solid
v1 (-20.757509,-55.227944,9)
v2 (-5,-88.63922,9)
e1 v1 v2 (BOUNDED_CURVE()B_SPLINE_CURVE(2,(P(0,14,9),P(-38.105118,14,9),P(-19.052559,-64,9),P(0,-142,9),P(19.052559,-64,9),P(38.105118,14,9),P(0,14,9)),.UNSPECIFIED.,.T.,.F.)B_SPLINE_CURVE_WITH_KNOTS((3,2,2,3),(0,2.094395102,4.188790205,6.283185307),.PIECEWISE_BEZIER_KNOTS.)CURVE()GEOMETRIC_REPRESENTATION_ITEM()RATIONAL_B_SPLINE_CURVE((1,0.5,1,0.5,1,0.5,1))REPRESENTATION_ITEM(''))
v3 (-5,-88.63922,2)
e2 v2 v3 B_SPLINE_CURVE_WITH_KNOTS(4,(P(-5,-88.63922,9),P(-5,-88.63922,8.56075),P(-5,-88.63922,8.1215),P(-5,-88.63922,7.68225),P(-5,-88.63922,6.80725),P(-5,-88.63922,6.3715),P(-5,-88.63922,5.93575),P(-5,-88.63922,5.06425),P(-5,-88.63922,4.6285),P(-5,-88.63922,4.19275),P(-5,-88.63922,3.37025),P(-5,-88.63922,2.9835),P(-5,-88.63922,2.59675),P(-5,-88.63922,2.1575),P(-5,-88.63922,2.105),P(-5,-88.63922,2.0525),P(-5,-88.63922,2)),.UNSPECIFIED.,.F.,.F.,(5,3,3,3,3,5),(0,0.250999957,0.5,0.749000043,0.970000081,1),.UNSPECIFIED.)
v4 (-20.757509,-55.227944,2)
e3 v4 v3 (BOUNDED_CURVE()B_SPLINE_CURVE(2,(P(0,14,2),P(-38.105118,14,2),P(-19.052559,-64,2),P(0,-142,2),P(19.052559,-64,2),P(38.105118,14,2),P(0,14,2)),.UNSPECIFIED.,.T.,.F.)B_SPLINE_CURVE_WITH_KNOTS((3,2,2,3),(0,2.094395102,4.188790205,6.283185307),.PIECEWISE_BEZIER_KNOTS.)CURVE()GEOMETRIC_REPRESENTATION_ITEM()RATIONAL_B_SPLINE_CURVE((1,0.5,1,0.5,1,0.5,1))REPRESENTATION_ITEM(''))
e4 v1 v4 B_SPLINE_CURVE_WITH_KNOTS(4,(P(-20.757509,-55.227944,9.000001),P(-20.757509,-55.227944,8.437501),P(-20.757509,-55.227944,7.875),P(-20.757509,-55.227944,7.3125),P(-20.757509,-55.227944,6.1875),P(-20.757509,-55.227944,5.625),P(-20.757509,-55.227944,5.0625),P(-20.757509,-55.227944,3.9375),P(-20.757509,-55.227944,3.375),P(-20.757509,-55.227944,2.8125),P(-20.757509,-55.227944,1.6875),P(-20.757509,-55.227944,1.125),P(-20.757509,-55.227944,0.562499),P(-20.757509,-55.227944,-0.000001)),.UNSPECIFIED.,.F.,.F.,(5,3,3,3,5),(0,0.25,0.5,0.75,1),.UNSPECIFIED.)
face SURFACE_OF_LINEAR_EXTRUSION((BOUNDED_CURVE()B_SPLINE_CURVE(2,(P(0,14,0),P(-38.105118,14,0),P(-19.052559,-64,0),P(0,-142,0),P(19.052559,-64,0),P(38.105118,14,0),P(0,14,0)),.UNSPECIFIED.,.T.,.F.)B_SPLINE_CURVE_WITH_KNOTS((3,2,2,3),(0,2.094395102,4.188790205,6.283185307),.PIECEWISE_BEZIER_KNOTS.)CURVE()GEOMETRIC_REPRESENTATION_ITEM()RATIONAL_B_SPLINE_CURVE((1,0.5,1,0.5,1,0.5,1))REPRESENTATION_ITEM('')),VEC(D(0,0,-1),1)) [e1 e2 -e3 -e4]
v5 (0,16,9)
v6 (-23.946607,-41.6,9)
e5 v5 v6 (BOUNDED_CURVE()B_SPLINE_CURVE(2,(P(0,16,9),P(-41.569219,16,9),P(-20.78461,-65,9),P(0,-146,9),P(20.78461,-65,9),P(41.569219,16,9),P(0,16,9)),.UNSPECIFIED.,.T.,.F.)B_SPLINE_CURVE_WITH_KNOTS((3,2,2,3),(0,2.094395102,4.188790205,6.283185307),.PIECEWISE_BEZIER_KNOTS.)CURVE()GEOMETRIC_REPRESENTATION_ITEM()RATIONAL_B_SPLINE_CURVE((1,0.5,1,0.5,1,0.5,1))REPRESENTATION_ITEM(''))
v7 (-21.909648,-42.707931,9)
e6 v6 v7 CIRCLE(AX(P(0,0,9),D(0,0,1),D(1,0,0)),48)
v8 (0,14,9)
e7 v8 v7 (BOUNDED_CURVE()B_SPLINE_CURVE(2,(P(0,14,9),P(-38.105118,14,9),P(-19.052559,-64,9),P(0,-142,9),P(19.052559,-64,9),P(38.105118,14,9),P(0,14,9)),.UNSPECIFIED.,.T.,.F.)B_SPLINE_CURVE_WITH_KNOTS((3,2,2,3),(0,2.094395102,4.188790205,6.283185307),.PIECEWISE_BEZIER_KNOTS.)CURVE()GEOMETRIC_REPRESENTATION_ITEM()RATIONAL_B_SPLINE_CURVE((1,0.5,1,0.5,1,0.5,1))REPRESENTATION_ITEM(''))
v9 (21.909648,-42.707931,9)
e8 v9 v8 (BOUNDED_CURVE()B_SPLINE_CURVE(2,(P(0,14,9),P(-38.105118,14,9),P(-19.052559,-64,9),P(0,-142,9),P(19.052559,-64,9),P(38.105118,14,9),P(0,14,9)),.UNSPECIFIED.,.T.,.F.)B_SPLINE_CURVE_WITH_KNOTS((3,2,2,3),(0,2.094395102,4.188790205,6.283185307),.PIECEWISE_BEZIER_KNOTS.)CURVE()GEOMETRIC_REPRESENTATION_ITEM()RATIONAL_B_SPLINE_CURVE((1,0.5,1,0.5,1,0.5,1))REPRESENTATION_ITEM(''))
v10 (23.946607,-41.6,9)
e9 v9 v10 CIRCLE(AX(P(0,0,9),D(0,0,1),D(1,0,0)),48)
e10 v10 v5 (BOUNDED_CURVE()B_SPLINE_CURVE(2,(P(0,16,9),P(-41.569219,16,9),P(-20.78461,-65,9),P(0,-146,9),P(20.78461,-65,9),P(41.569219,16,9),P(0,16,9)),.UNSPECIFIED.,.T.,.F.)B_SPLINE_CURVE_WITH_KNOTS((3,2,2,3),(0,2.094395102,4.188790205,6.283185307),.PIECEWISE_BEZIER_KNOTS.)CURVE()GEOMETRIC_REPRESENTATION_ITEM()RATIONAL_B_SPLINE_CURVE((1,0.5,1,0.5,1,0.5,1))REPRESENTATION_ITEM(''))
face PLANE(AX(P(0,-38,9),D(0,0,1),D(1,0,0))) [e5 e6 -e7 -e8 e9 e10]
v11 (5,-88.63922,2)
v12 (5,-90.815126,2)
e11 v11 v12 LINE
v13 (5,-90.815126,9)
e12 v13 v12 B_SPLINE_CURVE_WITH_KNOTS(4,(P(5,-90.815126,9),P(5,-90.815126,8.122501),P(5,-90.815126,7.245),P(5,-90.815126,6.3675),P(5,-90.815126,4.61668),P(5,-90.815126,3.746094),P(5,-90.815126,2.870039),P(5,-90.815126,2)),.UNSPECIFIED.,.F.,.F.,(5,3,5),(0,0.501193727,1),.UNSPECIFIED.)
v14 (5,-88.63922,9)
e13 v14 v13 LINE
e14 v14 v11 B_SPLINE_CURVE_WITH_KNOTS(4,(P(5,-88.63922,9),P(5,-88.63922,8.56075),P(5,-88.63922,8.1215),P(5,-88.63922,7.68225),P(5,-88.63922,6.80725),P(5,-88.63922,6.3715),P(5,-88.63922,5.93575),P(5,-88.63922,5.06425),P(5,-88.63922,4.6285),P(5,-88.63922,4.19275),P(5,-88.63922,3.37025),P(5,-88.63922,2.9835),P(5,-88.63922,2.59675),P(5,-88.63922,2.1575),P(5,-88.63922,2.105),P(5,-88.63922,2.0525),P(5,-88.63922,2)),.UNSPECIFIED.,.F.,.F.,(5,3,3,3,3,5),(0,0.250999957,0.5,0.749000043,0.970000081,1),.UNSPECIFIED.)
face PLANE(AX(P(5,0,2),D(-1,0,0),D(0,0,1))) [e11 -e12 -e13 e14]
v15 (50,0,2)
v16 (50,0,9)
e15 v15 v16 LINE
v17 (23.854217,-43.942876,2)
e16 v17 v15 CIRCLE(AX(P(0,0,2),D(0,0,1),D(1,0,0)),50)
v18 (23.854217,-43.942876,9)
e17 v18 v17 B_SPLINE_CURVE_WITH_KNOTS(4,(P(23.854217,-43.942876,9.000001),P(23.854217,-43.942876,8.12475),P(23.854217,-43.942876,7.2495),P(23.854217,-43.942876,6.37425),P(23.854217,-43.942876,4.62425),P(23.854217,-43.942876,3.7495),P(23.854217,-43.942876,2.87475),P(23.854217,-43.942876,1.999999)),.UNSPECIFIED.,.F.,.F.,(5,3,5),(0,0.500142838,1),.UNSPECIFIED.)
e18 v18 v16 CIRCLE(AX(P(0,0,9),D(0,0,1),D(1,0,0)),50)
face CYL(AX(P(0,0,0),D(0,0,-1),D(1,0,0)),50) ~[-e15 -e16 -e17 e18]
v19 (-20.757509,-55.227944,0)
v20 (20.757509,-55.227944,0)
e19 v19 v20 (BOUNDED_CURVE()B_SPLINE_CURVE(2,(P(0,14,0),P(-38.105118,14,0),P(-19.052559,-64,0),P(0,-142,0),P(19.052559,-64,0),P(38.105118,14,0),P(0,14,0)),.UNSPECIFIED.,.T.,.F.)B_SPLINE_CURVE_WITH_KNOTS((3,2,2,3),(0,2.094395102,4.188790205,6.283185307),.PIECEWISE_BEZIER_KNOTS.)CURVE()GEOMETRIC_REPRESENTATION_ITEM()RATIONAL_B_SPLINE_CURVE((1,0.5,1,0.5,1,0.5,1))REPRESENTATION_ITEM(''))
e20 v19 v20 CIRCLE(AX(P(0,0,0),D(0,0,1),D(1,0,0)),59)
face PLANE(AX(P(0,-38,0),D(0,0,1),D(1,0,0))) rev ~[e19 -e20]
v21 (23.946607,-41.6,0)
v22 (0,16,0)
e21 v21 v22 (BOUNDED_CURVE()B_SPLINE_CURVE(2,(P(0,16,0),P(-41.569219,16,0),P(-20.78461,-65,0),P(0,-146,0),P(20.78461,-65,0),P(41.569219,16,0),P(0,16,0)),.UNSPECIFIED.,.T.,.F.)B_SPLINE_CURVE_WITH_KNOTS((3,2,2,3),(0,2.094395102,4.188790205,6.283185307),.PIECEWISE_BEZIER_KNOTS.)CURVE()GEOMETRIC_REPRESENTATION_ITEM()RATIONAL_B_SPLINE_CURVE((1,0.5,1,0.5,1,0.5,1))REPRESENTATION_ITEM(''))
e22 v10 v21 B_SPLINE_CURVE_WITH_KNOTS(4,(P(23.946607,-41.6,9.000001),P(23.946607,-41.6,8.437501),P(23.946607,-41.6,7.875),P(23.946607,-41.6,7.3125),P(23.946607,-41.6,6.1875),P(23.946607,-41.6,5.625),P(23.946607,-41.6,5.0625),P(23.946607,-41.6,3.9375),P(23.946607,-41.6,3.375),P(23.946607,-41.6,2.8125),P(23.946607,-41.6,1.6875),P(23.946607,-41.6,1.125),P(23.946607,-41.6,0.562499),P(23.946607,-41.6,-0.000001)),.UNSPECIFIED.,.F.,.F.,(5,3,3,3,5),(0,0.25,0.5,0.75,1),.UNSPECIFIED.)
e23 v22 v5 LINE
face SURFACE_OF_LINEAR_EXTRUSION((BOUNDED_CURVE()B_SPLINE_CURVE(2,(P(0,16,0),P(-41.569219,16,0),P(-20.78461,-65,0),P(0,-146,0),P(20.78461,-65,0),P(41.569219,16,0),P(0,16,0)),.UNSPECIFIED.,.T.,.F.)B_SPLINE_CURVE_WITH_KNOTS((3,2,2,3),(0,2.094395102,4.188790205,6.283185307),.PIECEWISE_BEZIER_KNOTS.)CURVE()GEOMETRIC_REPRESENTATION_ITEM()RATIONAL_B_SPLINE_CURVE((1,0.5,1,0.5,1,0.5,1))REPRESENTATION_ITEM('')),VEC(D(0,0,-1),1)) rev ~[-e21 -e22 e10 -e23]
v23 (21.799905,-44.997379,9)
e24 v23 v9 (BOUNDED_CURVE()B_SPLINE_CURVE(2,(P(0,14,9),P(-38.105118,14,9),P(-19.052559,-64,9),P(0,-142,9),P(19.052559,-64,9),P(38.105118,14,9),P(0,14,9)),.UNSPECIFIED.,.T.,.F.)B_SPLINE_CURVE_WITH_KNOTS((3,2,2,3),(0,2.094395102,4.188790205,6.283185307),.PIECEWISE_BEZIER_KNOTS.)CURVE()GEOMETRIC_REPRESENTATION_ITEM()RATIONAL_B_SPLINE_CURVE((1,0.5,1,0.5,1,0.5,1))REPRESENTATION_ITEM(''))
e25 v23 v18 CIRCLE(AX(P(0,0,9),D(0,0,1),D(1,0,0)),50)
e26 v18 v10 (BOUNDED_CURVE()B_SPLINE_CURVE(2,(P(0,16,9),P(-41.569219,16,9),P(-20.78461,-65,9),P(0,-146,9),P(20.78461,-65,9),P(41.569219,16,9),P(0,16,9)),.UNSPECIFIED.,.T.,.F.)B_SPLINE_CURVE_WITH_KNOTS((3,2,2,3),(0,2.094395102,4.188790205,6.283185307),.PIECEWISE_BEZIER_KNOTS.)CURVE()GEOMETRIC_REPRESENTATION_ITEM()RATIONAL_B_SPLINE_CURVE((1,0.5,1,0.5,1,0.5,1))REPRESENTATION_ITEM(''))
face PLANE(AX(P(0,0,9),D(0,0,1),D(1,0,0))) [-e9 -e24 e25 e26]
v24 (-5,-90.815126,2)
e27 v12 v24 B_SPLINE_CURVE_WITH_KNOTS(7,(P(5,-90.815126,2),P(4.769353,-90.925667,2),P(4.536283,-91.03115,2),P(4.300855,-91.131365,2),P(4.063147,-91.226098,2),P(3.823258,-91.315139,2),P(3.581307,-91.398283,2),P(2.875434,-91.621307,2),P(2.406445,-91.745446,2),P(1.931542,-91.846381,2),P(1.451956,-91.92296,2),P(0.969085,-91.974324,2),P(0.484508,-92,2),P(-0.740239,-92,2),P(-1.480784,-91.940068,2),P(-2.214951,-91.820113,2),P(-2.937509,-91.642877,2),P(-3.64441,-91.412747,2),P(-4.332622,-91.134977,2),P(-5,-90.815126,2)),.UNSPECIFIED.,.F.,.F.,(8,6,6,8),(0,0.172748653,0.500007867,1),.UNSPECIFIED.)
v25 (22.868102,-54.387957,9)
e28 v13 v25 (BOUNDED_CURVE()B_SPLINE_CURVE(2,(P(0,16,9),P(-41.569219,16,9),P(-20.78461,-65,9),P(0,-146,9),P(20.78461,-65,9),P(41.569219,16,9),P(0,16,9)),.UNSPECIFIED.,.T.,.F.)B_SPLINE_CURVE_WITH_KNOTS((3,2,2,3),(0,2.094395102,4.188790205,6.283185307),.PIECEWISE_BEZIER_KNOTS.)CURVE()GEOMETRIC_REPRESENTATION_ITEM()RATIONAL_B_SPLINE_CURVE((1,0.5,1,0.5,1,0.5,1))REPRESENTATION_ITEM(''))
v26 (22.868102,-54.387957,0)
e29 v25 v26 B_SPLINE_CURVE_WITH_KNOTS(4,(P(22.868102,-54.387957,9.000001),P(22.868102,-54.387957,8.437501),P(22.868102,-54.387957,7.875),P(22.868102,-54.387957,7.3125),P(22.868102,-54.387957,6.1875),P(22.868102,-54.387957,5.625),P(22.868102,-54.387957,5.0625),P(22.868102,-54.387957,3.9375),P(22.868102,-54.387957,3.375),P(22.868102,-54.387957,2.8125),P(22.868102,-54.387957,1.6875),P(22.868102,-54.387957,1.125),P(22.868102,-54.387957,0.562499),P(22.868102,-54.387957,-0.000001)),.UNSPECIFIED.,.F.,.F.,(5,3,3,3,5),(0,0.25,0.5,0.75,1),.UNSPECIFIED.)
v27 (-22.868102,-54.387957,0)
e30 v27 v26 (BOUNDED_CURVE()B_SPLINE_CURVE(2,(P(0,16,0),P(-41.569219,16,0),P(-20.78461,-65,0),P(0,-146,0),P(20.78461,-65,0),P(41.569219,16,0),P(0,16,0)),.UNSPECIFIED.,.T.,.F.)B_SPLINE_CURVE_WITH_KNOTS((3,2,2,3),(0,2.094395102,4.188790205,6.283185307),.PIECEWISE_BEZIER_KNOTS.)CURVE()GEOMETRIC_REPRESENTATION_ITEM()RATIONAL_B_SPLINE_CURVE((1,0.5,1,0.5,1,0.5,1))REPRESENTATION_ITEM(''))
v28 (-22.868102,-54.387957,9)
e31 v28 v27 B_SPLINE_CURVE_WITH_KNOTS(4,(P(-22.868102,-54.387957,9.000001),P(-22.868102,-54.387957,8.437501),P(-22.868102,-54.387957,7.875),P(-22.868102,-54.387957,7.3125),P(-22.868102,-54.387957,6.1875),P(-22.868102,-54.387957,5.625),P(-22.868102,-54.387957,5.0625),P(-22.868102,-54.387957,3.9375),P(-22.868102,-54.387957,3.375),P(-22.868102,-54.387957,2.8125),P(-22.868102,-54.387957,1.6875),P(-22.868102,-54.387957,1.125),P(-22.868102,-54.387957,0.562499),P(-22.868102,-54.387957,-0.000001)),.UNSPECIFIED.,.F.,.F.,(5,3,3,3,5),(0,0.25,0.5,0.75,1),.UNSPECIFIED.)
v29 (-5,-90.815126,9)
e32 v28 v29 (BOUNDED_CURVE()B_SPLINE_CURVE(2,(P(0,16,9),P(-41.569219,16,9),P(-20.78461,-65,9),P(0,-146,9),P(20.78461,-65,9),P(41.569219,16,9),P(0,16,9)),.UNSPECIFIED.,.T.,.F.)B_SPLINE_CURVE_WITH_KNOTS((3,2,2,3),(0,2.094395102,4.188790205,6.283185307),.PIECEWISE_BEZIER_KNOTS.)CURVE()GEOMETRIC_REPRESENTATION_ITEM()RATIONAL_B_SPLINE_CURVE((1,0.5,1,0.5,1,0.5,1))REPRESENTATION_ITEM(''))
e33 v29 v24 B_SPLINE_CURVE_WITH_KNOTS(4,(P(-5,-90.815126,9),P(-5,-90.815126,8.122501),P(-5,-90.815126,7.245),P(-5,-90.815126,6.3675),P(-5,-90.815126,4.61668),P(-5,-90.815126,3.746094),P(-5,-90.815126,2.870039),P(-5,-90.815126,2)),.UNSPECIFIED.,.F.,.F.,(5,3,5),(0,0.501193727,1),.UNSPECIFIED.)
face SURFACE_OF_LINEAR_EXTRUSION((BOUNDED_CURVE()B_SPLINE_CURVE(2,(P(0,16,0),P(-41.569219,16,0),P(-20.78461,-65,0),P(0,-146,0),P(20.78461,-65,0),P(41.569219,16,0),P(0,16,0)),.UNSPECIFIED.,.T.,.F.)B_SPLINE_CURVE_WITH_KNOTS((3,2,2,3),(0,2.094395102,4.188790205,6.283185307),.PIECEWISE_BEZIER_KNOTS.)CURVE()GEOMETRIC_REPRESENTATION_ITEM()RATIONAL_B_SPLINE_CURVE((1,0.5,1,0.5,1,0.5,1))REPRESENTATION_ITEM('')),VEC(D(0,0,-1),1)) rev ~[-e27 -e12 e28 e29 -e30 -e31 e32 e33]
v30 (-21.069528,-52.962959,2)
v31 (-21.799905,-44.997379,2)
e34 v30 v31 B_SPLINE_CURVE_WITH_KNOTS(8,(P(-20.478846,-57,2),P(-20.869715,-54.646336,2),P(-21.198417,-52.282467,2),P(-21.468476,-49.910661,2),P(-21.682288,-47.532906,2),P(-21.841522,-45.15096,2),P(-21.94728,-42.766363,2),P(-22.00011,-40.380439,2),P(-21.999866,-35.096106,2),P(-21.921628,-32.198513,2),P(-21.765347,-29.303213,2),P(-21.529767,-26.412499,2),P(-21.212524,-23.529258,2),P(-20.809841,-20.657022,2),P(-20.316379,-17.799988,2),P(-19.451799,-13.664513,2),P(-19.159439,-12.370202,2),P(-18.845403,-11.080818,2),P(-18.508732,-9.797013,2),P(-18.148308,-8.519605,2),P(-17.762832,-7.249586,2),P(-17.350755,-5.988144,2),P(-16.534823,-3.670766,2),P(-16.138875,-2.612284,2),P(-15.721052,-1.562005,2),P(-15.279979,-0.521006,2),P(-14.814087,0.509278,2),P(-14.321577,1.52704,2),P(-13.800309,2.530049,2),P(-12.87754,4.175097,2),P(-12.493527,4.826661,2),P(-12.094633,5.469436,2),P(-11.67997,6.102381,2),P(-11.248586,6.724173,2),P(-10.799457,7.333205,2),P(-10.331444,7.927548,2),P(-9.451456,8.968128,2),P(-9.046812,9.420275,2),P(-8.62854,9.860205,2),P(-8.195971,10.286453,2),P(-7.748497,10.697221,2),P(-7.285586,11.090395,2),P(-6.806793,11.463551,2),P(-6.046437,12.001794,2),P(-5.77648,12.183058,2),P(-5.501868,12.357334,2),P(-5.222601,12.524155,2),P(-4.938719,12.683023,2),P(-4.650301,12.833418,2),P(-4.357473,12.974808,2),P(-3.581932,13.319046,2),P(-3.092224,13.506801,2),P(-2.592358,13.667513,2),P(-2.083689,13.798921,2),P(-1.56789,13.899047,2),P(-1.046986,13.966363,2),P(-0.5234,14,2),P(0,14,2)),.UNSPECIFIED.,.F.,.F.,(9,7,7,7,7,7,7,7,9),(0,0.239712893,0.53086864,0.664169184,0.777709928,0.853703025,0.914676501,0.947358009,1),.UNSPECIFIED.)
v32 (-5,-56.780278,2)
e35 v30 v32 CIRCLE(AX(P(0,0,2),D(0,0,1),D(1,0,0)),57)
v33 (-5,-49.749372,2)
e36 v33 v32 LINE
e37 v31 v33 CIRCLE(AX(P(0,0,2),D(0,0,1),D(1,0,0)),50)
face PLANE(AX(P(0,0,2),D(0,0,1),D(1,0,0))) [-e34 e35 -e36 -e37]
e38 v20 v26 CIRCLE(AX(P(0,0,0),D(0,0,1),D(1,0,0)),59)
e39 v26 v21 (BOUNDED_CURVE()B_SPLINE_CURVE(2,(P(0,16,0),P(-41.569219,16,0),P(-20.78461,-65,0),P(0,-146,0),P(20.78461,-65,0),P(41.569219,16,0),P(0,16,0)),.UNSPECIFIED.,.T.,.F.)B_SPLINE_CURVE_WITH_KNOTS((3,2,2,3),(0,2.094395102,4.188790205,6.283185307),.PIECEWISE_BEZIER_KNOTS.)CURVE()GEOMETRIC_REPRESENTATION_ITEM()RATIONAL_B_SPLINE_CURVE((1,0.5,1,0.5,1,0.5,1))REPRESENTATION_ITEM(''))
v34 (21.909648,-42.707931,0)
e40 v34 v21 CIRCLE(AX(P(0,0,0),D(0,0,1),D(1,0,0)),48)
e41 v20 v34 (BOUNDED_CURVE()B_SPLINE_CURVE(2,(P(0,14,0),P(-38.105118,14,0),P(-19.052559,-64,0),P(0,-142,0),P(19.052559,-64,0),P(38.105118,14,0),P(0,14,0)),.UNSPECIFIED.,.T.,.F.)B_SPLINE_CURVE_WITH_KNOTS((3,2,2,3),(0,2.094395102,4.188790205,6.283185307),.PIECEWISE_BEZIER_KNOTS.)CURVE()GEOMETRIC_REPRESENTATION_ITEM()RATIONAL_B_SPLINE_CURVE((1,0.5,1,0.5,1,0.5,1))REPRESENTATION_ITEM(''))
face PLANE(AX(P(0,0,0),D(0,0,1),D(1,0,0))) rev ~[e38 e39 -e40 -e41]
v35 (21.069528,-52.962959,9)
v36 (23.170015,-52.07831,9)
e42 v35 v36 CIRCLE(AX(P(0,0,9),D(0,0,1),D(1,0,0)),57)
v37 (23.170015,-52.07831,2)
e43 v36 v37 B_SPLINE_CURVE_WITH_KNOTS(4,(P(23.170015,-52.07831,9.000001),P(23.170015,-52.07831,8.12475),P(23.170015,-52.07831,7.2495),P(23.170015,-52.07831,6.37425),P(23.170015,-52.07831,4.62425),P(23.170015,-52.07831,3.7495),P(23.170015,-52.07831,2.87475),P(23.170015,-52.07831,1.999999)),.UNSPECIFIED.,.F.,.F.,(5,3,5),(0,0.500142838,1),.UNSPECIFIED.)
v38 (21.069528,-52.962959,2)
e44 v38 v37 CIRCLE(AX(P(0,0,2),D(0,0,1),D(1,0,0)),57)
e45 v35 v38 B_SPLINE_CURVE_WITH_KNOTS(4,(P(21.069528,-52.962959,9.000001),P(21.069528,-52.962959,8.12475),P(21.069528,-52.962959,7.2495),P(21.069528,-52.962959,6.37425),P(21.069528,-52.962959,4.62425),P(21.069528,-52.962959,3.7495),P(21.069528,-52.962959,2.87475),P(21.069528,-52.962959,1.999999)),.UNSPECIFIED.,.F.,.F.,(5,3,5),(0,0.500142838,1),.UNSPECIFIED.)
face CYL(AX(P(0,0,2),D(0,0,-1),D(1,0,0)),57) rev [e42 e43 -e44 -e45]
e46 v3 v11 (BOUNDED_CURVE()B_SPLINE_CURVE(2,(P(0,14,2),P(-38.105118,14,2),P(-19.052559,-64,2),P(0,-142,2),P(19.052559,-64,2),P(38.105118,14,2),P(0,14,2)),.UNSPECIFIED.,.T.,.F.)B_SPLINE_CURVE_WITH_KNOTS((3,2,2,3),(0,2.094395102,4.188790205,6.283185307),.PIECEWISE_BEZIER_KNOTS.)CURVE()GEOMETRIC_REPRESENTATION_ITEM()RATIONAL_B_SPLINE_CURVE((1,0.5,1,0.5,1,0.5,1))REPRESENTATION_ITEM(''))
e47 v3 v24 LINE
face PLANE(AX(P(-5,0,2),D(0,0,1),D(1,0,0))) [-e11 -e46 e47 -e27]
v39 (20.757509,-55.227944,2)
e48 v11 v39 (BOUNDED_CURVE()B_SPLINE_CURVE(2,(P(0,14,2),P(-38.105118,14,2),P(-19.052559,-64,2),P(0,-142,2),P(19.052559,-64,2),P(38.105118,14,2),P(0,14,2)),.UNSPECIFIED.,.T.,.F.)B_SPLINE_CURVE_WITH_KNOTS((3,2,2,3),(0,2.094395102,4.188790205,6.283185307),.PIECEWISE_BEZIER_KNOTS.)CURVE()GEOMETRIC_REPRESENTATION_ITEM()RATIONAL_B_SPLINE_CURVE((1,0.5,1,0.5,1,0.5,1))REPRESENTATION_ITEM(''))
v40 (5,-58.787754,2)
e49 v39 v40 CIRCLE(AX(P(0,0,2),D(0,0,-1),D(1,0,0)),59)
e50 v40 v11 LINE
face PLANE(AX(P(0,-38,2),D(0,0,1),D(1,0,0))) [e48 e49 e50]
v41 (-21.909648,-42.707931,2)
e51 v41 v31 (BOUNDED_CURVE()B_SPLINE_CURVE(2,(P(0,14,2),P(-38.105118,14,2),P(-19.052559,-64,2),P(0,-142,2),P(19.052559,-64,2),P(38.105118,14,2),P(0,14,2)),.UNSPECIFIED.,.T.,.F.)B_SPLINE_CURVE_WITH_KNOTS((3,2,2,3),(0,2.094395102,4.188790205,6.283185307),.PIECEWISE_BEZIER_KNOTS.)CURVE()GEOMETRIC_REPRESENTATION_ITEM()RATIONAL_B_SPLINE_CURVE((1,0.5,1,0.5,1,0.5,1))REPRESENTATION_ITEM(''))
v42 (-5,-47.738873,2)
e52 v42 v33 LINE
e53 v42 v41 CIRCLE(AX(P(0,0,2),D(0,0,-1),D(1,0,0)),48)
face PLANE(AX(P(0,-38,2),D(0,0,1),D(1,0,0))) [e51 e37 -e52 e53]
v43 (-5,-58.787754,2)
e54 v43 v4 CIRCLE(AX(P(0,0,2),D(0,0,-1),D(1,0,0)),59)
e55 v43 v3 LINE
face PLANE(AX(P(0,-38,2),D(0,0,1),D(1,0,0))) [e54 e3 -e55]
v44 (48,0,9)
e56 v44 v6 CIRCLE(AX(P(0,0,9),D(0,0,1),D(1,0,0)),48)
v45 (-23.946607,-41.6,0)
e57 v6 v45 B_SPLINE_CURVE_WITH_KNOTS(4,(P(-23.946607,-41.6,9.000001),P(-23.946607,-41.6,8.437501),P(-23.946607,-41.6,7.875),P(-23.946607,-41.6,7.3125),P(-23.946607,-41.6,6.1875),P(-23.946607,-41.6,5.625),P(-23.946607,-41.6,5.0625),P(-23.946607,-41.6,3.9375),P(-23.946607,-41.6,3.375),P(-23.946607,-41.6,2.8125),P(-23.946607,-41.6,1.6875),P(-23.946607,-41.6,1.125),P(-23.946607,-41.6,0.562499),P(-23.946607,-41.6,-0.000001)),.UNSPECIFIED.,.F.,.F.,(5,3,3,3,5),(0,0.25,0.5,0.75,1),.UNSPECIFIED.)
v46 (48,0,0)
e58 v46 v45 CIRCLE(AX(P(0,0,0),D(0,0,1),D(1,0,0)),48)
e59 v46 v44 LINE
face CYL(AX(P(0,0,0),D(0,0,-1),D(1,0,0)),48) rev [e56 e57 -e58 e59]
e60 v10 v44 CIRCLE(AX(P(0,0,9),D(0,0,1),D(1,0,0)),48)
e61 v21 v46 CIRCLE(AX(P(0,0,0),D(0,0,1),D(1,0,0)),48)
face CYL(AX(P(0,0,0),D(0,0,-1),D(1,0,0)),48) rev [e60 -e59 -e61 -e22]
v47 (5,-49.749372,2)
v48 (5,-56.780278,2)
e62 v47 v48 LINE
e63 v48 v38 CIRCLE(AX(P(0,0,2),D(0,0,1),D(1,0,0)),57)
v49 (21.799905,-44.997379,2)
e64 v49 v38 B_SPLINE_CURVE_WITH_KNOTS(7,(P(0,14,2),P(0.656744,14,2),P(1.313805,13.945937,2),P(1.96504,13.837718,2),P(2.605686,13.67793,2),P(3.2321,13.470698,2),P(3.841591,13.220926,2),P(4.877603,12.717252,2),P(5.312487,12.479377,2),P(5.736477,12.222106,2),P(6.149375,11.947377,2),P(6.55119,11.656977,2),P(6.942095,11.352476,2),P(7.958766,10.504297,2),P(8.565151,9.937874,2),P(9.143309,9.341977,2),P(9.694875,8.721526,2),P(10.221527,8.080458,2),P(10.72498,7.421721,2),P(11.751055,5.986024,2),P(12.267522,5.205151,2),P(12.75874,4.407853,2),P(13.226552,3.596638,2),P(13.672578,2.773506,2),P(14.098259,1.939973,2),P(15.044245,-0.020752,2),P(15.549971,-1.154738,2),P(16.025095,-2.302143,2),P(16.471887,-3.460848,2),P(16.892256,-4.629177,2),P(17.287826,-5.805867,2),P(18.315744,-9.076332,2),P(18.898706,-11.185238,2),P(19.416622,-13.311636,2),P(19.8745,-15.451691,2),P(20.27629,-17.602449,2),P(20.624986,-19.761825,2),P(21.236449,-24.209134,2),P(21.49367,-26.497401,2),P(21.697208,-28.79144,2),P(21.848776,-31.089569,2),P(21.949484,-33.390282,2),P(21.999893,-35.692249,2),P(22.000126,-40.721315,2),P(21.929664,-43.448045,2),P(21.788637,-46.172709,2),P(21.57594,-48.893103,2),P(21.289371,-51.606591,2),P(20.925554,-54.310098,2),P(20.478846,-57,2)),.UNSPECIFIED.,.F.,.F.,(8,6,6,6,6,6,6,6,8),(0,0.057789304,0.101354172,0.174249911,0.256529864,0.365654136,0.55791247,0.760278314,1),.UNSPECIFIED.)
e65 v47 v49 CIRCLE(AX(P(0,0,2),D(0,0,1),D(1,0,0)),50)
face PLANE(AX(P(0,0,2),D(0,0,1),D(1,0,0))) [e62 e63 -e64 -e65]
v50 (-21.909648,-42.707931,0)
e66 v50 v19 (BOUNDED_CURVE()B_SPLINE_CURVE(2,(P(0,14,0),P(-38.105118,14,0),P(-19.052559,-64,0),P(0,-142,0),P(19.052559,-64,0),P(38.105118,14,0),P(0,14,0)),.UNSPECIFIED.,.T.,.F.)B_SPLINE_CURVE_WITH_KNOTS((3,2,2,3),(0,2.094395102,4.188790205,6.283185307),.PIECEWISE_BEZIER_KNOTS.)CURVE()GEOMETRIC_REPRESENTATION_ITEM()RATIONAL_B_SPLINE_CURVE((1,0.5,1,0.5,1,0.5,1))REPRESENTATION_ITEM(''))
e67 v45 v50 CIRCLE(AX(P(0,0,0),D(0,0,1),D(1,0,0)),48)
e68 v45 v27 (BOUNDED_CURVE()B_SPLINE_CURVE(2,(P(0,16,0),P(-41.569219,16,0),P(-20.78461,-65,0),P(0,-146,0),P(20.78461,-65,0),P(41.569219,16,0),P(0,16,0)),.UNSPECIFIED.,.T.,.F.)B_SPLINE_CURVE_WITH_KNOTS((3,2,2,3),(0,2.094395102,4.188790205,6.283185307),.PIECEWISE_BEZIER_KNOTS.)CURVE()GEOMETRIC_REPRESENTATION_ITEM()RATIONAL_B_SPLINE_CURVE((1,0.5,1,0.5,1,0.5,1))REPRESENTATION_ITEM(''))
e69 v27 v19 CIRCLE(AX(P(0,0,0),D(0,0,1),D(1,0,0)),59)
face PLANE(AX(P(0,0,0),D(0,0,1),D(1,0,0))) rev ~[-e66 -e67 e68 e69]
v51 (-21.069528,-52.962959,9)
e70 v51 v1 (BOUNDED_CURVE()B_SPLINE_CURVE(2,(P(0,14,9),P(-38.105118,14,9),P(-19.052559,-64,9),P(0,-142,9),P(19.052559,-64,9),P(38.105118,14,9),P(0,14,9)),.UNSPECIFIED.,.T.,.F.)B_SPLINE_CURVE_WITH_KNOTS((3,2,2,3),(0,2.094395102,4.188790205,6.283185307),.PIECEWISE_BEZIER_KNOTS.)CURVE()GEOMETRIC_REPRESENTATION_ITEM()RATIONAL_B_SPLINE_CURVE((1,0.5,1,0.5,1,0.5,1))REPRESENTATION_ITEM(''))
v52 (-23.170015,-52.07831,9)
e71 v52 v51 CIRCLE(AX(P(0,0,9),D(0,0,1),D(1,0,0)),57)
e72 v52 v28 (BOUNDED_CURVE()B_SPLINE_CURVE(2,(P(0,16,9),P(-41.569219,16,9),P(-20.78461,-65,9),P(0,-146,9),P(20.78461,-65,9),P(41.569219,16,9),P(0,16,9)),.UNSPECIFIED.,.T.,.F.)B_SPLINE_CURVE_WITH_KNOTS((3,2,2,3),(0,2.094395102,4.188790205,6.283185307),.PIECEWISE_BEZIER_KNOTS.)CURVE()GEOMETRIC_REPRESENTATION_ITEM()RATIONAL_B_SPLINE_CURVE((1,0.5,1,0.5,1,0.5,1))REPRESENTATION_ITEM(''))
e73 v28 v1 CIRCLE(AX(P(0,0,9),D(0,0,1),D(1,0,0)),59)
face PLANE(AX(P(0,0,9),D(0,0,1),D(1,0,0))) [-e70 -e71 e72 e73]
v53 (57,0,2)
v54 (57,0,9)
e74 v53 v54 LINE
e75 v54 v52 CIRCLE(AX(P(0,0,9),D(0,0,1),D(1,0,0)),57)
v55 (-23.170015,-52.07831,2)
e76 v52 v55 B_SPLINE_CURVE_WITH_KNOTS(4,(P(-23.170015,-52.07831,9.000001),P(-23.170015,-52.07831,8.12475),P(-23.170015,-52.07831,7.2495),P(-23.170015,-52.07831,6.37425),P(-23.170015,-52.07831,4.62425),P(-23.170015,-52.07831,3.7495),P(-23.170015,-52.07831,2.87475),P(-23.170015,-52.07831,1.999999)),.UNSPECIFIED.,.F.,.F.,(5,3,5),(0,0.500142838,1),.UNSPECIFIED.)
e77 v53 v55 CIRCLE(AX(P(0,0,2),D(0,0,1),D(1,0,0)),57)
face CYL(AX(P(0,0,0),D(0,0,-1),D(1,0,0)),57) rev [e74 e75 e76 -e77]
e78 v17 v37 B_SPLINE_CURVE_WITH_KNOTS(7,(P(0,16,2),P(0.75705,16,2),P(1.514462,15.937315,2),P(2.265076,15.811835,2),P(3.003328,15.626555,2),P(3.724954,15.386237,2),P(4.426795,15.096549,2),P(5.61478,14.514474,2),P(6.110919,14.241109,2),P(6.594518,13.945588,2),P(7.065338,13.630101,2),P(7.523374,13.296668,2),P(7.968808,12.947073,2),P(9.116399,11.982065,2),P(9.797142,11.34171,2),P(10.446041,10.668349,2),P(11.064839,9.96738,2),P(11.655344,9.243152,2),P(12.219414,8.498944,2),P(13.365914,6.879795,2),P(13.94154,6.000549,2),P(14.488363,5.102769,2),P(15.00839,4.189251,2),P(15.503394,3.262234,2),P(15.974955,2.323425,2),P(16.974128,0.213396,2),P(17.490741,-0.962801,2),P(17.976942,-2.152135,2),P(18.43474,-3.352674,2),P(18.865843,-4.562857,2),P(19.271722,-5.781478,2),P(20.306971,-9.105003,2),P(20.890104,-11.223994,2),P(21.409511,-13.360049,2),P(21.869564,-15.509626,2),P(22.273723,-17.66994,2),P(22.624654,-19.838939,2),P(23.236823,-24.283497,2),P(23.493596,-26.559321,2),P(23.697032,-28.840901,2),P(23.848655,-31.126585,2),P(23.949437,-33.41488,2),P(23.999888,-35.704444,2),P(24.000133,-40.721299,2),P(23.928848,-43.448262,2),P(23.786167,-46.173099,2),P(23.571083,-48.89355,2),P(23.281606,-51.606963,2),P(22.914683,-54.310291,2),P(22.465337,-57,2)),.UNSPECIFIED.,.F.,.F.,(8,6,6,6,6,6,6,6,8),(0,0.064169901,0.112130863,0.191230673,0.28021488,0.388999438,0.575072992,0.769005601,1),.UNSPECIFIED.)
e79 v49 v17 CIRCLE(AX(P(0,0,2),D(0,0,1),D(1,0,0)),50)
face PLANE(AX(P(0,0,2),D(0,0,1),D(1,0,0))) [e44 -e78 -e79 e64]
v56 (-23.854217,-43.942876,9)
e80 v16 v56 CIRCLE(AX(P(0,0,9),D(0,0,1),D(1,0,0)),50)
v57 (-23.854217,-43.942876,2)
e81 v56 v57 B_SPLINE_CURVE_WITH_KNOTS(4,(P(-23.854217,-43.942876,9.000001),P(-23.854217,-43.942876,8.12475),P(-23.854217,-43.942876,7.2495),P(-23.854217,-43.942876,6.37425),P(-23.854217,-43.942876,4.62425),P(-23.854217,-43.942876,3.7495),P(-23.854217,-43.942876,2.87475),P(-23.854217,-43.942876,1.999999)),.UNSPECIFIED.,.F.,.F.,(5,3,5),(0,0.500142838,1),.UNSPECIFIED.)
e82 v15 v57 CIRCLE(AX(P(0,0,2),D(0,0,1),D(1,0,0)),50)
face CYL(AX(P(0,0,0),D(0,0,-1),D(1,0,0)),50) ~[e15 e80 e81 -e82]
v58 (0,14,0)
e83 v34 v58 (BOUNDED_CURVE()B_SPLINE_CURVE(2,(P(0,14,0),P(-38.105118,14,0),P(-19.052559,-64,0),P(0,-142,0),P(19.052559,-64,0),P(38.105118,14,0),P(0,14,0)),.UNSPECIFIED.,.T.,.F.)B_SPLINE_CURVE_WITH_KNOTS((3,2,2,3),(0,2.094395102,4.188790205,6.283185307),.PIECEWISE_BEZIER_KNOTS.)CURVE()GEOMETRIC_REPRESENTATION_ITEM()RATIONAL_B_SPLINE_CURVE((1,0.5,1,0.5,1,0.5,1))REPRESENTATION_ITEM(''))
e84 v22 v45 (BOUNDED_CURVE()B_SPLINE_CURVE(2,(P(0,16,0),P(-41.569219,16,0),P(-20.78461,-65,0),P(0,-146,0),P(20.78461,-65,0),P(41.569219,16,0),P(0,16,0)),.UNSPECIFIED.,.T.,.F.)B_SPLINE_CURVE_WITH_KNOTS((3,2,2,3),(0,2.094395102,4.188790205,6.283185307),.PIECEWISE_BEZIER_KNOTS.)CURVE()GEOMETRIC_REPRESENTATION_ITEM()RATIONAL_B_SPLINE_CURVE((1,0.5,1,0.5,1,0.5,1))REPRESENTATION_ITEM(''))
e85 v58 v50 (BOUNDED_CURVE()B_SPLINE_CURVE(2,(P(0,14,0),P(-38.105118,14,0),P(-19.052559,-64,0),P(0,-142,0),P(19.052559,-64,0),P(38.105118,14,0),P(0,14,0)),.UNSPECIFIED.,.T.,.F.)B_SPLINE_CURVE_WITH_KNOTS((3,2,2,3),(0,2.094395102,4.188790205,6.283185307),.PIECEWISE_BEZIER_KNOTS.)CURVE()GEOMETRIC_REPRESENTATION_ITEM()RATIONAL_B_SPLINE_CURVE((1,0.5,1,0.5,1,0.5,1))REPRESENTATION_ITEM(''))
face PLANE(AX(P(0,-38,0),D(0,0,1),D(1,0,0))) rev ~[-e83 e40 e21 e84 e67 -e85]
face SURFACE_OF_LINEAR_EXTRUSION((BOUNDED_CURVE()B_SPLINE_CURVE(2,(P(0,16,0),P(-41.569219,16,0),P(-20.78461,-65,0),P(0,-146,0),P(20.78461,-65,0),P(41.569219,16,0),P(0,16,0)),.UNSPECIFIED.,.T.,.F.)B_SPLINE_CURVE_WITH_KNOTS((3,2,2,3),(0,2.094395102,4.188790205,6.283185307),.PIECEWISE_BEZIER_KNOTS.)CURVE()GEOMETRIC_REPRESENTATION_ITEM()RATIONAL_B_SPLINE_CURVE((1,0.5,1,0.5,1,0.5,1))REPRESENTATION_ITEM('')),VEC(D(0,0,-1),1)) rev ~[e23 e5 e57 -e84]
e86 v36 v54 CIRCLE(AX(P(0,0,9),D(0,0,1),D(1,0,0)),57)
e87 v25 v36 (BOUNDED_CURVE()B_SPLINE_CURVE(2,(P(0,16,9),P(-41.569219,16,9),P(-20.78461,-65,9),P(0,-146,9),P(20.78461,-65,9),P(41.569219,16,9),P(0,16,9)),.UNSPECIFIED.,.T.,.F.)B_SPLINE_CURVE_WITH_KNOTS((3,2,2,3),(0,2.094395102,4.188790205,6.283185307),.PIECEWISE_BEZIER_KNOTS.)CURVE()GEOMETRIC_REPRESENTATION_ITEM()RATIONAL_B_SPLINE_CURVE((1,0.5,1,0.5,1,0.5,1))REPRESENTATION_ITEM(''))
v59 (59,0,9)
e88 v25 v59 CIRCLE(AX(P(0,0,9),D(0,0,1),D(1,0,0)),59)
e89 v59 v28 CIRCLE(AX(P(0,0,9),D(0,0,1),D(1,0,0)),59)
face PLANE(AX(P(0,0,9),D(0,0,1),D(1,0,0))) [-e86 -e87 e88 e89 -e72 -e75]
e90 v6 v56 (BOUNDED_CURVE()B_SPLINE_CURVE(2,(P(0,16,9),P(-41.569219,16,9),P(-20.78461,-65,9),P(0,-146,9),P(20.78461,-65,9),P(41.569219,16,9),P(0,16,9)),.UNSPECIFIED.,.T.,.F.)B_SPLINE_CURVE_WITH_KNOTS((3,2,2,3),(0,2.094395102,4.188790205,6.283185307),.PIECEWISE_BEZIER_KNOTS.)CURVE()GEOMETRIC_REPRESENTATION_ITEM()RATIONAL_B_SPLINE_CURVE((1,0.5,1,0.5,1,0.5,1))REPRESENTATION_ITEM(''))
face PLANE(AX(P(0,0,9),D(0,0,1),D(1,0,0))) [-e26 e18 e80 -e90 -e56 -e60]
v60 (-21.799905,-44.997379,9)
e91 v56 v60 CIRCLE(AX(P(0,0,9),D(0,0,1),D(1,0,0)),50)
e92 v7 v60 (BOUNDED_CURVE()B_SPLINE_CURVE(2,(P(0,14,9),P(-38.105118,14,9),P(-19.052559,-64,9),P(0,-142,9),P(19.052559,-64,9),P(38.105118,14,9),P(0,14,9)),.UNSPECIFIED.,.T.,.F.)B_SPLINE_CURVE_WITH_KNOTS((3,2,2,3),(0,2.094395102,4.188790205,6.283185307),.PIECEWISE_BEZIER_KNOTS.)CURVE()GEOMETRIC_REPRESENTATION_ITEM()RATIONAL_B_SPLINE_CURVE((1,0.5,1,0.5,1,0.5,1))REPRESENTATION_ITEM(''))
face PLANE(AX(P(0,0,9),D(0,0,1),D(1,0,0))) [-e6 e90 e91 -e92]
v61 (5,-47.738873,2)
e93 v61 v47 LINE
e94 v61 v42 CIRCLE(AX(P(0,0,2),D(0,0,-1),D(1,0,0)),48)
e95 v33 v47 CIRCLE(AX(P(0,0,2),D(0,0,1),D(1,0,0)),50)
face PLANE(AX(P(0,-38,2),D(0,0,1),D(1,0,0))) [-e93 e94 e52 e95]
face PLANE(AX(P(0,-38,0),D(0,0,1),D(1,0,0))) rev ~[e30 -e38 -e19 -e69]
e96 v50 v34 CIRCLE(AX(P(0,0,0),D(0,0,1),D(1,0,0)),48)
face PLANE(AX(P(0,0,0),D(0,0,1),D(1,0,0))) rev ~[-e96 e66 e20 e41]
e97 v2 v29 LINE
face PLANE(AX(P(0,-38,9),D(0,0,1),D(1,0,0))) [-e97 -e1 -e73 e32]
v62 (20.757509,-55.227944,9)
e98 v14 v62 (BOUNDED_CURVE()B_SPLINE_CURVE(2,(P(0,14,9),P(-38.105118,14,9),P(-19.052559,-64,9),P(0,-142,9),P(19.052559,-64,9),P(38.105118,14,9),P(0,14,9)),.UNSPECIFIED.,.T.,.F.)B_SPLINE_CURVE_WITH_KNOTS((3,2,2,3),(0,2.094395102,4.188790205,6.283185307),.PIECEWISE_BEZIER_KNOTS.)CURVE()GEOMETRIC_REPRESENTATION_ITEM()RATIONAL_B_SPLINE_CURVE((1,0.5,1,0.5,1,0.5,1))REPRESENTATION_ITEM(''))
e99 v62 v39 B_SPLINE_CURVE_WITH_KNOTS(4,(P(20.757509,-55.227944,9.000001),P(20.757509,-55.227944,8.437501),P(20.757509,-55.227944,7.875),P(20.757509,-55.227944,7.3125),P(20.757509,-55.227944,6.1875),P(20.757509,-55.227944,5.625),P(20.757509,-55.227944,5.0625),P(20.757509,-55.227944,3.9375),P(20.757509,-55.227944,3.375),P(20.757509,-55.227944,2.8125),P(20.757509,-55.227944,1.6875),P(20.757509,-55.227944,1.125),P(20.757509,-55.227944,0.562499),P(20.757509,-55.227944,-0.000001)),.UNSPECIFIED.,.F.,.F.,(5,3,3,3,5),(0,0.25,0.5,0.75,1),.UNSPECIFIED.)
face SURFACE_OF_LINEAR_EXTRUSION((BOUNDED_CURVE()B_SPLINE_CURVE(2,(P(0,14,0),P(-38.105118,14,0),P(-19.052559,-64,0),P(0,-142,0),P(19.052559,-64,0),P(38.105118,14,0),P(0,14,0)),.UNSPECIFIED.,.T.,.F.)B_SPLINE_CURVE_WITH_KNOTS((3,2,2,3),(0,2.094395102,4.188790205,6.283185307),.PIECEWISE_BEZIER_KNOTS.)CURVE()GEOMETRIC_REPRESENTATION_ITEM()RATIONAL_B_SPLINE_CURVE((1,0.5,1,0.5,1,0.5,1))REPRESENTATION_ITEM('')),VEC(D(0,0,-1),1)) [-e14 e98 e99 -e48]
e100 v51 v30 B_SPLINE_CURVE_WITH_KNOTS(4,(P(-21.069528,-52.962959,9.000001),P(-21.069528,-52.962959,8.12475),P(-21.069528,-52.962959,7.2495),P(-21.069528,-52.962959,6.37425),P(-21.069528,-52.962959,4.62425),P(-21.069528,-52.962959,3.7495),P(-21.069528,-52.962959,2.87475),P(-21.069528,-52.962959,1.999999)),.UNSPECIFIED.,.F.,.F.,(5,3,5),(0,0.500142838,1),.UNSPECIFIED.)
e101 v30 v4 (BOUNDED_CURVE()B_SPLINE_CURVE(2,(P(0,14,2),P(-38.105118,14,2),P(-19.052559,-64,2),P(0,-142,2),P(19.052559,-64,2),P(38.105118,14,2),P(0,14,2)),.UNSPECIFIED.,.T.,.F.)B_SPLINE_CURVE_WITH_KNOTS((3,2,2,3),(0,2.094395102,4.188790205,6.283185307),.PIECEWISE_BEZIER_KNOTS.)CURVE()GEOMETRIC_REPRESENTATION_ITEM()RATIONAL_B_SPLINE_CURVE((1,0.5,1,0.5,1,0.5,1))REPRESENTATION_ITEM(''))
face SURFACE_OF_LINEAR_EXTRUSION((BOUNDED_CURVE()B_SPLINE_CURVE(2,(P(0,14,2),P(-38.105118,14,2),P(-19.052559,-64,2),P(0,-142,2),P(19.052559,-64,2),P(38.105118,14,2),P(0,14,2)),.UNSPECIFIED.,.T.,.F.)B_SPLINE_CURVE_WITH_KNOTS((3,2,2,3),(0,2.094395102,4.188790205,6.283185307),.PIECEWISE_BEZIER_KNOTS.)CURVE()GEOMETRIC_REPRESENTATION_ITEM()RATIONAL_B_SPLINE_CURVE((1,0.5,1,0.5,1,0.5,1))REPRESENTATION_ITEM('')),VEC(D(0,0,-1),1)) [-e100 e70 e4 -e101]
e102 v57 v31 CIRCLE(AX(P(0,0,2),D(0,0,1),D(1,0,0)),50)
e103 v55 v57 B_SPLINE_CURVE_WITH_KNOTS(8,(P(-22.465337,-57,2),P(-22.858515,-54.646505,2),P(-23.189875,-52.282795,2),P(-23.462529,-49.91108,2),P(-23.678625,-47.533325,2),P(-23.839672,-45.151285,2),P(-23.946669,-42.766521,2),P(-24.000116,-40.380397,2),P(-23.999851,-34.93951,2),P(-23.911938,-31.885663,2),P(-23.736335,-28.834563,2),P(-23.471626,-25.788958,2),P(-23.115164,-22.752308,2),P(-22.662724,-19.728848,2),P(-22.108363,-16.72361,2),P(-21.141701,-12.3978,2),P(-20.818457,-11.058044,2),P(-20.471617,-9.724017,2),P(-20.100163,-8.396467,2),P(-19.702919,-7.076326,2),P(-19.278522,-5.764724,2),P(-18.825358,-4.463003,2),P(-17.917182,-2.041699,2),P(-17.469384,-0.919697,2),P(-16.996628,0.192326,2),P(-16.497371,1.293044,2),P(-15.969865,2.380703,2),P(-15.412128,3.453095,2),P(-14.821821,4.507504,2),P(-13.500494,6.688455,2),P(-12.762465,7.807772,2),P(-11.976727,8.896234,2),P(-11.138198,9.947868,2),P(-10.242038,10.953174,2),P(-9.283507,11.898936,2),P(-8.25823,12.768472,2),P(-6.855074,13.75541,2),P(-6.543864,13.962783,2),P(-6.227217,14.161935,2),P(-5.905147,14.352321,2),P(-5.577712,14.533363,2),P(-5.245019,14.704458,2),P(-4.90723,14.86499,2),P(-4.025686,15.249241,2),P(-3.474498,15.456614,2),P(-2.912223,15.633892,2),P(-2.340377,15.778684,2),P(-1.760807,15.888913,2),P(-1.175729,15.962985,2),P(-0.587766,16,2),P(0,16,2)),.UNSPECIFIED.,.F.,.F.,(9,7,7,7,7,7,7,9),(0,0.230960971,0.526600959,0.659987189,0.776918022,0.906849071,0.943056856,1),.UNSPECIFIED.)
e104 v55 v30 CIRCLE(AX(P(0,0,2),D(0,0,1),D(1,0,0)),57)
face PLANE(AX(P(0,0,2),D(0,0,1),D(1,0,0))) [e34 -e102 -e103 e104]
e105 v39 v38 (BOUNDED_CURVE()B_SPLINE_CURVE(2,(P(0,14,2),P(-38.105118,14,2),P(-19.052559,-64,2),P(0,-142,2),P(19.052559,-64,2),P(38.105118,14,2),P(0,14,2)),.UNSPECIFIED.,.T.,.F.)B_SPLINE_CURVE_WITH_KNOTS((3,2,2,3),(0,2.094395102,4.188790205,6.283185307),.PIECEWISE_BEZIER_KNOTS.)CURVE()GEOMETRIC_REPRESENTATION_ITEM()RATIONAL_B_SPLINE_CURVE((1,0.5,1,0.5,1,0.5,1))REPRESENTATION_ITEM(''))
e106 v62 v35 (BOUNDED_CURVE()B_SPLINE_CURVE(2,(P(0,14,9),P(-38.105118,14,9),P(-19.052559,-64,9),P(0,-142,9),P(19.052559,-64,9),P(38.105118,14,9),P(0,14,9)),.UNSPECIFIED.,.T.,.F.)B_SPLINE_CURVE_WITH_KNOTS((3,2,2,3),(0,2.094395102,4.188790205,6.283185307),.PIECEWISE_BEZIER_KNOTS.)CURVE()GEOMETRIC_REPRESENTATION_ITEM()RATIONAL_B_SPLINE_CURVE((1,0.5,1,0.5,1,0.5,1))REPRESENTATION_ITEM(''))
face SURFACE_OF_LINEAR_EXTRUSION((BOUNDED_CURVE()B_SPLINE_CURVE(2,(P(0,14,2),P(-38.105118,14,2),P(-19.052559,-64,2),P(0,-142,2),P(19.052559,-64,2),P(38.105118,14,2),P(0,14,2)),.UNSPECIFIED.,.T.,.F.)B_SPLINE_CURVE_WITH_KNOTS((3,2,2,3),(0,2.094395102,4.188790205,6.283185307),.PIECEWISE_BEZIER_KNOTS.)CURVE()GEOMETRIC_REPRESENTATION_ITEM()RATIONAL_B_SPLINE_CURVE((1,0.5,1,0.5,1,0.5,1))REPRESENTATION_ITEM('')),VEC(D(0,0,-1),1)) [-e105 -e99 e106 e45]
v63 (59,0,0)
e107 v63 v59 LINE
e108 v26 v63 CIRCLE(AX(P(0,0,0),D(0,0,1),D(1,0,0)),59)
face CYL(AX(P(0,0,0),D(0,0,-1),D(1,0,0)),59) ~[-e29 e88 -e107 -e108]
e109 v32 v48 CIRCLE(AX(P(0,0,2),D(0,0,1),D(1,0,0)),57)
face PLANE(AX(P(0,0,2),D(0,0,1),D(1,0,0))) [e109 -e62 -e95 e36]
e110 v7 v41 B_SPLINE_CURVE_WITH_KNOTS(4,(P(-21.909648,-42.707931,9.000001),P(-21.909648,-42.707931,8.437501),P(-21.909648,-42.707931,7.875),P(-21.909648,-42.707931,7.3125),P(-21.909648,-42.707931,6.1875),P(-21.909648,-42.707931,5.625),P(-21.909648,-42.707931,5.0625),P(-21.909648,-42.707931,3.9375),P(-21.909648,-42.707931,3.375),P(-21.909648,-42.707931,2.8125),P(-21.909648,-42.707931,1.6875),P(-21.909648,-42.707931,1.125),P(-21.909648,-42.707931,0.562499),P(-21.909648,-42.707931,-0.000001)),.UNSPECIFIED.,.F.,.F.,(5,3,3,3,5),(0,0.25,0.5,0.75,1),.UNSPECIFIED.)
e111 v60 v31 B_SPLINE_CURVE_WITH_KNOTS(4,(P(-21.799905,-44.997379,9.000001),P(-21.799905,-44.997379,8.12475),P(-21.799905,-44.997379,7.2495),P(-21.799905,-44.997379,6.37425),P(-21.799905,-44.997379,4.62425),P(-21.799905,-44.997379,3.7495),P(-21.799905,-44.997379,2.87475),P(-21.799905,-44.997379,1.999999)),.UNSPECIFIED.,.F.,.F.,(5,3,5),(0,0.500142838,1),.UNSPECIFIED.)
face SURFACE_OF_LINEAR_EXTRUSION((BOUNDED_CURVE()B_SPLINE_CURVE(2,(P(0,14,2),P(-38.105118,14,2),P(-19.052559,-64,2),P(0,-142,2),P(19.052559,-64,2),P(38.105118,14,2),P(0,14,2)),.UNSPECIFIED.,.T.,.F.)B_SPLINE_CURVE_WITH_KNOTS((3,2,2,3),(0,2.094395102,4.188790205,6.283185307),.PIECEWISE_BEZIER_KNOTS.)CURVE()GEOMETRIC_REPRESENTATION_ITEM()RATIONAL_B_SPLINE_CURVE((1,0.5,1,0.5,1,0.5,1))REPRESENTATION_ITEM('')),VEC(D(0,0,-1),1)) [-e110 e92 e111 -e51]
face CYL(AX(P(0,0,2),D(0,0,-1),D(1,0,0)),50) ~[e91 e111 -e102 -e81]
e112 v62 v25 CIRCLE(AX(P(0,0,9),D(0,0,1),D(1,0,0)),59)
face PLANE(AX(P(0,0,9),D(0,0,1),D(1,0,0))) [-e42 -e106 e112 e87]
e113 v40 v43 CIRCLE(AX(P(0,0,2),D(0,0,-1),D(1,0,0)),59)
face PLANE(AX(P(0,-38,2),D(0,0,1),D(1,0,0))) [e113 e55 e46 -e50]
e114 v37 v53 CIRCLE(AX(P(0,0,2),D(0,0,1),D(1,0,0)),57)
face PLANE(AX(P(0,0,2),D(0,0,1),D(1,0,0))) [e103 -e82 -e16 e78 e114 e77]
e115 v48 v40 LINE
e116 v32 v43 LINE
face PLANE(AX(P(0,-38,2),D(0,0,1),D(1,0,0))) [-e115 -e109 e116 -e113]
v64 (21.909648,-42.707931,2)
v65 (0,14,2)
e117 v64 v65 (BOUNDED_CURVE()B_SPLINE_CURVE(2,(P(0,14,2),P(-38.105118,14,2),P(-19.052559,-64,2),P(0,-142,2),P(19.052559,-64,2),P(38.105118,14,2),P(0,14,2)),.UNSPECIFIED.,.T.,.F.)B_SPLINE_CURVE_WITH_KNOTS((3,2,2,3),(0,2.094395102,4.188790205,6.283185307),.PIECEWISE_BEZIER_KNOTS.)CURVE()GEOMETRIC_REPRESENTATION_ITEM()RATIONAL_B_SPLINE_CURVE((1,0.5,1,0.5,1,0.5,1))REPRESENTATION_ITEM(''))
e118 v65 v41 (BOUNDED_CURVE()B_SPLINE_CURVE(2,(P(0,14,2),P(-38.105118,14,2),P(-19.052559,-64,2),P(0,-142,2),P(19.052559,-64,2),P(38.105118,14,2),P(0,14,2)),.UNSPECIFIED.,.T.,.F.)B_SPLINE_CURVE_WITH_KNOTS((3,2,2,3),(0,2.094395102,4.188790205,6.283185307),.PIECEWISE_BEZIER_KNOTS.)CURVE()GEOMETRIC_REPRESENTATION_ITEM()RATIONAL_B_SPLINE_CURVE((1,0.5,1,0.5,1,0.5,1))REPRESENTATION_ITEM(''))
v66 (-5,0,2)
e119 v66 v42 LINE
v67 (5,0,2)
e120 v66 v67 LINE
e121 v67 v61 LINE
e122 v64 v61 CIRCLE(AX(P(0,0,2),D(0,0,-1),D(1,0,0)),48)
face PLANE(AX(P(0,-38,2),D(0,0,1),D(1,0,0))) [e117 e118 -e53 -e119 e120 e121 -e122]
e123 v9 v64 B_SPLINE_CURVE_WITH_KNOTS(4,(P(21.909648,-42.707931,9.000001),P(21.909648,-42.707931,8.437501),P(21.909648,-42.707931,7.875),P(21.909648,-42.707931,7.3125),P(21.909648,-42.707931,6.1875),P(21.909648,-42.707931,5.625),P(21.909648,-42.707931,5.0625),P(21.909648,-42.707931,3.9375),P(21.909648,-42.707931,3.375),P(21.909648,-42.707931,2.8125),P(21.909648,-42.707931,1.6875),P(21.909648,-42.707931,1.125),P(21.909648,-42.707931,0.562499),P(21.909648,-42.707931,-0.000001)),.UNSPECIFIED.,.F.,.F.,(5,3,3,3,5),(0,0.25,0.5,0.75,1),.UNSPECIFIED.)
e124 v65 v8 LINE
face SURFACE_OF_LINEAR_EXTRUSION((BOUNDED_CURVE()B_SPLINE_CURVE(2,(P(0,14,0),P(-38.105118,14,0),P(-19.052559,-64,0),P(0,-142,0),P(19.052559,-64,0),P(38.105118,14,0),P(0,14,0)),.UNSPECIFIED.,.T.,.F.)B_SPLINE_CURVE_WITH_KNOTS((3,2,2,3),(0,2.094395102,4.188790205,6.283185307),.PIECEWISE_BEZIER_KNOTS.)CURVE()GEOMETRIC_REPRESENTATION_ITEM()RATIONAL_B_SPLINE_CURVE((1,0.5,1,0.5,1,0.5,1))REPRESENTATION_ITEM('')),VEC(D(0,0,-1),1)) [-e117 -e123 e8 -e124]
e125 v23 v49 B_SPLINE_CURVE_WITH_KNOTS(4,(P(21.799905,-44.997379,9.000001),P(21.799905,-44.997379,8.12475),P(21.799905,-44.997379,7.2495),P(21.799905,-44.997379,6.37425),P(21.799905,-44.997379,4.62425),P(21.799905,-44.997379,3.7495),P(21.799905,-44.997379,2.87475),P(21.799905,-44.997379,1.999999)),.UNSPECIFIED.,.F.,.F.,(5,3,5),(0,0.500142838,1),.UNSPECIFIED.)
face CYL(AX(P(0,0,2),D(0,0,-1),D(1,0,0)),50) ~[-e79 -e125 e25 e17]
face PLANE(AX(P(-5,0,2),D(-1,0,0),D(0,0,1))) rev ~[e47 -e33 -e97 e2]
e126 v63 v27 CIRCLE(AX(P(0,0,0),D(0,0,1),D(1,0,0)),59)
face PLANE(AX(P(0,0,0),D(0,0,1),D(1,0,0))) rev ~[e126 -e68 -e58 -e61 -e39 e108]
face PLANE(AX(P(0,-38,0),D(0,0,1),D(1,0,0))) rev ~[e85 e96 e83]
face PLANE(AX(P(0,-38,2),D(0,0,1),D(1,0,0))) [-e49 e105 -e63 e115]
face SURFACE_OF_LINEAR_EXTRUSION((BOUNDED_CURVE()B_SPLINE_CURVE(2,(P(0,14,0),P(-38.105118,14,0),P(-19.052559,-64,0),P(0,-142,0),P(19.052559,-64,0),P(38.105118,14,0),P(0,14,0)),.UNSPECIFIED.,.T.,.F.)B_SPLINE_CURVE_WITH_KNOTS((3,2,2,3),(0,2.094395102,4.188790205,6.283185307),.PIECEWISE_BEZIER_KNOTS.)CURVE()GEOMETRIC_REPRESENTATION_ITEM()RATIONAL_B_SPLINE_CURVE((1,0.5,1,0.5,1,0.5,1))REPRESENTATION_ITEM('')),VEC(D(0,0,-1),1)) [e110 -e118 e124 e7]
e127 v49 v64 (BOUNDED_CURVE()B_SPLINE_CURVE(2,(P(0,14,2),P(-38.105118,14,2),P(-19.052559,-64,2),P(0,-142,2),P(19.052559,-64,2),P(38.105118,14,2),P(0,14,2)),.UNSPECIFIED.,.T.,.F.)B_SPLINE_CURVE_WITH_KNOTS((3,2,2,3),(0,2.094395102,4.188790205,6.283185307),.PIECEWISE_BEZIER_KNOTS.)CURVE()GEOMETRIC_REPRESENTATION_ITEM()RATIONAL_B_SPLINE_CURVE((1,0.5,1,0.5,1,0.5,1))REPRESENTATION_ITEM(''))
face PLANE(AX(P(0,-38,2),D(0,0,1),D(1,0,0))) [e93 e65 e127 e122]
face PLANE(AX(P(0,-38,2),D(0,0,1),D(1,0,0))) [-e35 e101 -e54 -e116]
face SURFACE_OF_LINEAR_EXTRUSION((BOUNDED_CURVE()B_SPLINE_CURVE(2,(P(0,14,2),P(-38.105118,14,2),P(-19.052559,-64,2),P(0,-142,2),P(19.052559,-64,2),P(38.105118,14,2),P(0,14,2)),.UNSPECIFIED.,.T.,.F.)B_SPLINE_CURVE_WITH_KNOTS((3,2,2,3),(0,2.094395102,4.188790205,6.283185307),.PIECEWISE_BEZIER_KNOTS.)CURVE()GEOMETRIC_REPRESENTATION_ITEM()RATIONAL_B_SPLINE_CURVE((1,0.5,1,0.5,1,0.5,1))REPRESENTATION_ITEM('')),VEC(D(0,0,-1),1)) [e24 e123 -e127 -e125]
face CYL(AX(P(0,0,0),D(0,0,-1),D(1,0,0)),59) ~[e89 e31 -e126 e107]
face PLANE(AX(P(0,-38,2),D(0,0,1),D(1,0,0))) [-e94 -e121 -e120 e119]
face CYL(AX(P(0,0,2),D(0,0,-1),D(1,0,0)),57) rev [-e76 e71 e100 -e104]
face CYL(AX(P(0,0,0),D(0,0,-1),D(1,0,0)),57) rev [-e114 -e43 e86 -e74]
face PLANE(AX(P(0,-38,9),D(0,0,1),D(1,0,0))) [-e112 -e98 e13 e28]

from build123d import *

# Parameters (mm, degrees)
F0_R      = 50
F0_R_2    = 48
F1_DEPTH  = 9
F2_R      = 57
F2_R_2    = 50
F3_DEPTH  = 2
F4_R      = 59
F4_R_2    = 57
F5_DEPTH  = 9
F7_DEPTH  = 9
F9_DEPTH  = 2
F11_R     = 57
F11_R_2   = 50
F12_DEPTH = 7
F14_DEPTH = 7
F15_W     = 10
F15_H     = 7
F16_DEPTH = 100


with BuildPart() as f1:
    # F0 (on Top) → F1 (new body)
    with BuildSketch(Plane.XY):
        Circle(F0_R)
        Circle(F0_R_2, mode=Mode.SUBTRACT)
    extrude(amount=F1_DEPTH)

    # F2 (on Top) → F3 (join)
    with BuildSketch(Plane.XY):
        Circle(F2_R)
        Circle(F2_R_2, mode=Mode.SUBTRACT)
    extrude(amount=F3_DEPTH)

    # F4 (on Top) → F5 (join)
    with BuildSketch(Plane.XY):
        Circle(F4_R)
        Circle(F4_R_2, mode=Mode.SUBTRACT)
    extrude(amount=F5_DEPTH)

    # F6 (on Top) → F7 (join)
    with BuildSketch(Plane.XY):
        with BuildLine():
            add(Edge.make_bspline(
                [(0, 16), (-41.5692193817, 16), (-20.7846096908, -65), (0, -146), (20.7846096908, -65), (41.5692193817, 16), (0, 16)],
                knots=[0, 0, 0, 2.0943951024, 2.0943951024, 4.1887902048, 4.1887902048, 6.2831853072, 6.2831853072, 6.2831853072], degree=2, weights=[1, 0.5, 1, 0.5, 1, 0.5, 1]))
        make_face()
        with BuildLine():
            add(Edge.make_bspline(
                [(0, 14), (-38.1051177665, 14), (-19.0525588833, -64), (0, -142), (19.0525588833, -64), (38.1051177665, 14), (0, 14)],
                knots=[0, 0, 0, 2.0943951024, 2.0943951024, 4.1887902048, 4.1887902048, 6.2831853072, 6.2831853072, 6.2831853072], degree=2, weights=[1, 0.5, 1, 0.5, 1, 0.5, 1]))
        make_face(mode=Mode.SUBTRACT)
    extrude(amount=F7_DEPTH)

    # F8 (on Top) → F9 (join)
    with BuildSketch(Plane.XY):
        with BuildLine():
            add(Edge.make_bspline(
                [(0, 14), (-38.1051177665, 14), (-19.0525588833, -64), (0, -142), (19.0525588833, -64), (38.1051177665, 14), (0, 14)],
                knots=[0, 0, 0, 2.0943951024, 2.0943951024, 4.1887902048, 4.1887902048, 6.2831853072, 6.2831853072, 6.2831853072], degree=2, weights=[1, 0.5, 1, 0.5, 1, 0.5, 1]))
        make_face()
    extrude(amount=F9_DEPTH)

    # F11 (on offset) → F12 (cut)
    with BuildSketch(Plane.XY.offset(2)):
        Circle(F11_R)
        Circle(F11_R_2, mode=Mode.SUBTRACT)
    extrude(amount=F12_DEPTH, mode=Mode.SUBTRACT)

    # F13 (on offset) → F14 (cut)
    with BuildSketch(Plane.XY.offset(2)):
        with BuildLine():
            add(Edge.make_bspline(
                [(0, 14), (-38.1051177665, 14), (-19.0525588833, -64), (0, -142), (19.0525588833, -64), (38.1051177665, 14), (0, 14)],
                knots=[0, 0, 0, 2.0943951024, 2.0943951024, 4.1887902048, 4.1887902048, 6.2831853072, 6.2831853072, 6.2831853072], degree=2, weights=[1, 0.5, 1, 0.5, 1, 0.5, 1]))
        make_face()
    extrude(amount=F14_DEPTH, mode=Mode.SUBTRACT)

    # F15 (on Front) → F16 (cut)
    with BuildSketch(Plane.XZ):
        with Locations((0, 5.5)):
            Rectangle(F15_W, F15_H)
    extrude(amount=F16_DEPTH, mode=Mode.SUBTRACT)


solid = f1.part
